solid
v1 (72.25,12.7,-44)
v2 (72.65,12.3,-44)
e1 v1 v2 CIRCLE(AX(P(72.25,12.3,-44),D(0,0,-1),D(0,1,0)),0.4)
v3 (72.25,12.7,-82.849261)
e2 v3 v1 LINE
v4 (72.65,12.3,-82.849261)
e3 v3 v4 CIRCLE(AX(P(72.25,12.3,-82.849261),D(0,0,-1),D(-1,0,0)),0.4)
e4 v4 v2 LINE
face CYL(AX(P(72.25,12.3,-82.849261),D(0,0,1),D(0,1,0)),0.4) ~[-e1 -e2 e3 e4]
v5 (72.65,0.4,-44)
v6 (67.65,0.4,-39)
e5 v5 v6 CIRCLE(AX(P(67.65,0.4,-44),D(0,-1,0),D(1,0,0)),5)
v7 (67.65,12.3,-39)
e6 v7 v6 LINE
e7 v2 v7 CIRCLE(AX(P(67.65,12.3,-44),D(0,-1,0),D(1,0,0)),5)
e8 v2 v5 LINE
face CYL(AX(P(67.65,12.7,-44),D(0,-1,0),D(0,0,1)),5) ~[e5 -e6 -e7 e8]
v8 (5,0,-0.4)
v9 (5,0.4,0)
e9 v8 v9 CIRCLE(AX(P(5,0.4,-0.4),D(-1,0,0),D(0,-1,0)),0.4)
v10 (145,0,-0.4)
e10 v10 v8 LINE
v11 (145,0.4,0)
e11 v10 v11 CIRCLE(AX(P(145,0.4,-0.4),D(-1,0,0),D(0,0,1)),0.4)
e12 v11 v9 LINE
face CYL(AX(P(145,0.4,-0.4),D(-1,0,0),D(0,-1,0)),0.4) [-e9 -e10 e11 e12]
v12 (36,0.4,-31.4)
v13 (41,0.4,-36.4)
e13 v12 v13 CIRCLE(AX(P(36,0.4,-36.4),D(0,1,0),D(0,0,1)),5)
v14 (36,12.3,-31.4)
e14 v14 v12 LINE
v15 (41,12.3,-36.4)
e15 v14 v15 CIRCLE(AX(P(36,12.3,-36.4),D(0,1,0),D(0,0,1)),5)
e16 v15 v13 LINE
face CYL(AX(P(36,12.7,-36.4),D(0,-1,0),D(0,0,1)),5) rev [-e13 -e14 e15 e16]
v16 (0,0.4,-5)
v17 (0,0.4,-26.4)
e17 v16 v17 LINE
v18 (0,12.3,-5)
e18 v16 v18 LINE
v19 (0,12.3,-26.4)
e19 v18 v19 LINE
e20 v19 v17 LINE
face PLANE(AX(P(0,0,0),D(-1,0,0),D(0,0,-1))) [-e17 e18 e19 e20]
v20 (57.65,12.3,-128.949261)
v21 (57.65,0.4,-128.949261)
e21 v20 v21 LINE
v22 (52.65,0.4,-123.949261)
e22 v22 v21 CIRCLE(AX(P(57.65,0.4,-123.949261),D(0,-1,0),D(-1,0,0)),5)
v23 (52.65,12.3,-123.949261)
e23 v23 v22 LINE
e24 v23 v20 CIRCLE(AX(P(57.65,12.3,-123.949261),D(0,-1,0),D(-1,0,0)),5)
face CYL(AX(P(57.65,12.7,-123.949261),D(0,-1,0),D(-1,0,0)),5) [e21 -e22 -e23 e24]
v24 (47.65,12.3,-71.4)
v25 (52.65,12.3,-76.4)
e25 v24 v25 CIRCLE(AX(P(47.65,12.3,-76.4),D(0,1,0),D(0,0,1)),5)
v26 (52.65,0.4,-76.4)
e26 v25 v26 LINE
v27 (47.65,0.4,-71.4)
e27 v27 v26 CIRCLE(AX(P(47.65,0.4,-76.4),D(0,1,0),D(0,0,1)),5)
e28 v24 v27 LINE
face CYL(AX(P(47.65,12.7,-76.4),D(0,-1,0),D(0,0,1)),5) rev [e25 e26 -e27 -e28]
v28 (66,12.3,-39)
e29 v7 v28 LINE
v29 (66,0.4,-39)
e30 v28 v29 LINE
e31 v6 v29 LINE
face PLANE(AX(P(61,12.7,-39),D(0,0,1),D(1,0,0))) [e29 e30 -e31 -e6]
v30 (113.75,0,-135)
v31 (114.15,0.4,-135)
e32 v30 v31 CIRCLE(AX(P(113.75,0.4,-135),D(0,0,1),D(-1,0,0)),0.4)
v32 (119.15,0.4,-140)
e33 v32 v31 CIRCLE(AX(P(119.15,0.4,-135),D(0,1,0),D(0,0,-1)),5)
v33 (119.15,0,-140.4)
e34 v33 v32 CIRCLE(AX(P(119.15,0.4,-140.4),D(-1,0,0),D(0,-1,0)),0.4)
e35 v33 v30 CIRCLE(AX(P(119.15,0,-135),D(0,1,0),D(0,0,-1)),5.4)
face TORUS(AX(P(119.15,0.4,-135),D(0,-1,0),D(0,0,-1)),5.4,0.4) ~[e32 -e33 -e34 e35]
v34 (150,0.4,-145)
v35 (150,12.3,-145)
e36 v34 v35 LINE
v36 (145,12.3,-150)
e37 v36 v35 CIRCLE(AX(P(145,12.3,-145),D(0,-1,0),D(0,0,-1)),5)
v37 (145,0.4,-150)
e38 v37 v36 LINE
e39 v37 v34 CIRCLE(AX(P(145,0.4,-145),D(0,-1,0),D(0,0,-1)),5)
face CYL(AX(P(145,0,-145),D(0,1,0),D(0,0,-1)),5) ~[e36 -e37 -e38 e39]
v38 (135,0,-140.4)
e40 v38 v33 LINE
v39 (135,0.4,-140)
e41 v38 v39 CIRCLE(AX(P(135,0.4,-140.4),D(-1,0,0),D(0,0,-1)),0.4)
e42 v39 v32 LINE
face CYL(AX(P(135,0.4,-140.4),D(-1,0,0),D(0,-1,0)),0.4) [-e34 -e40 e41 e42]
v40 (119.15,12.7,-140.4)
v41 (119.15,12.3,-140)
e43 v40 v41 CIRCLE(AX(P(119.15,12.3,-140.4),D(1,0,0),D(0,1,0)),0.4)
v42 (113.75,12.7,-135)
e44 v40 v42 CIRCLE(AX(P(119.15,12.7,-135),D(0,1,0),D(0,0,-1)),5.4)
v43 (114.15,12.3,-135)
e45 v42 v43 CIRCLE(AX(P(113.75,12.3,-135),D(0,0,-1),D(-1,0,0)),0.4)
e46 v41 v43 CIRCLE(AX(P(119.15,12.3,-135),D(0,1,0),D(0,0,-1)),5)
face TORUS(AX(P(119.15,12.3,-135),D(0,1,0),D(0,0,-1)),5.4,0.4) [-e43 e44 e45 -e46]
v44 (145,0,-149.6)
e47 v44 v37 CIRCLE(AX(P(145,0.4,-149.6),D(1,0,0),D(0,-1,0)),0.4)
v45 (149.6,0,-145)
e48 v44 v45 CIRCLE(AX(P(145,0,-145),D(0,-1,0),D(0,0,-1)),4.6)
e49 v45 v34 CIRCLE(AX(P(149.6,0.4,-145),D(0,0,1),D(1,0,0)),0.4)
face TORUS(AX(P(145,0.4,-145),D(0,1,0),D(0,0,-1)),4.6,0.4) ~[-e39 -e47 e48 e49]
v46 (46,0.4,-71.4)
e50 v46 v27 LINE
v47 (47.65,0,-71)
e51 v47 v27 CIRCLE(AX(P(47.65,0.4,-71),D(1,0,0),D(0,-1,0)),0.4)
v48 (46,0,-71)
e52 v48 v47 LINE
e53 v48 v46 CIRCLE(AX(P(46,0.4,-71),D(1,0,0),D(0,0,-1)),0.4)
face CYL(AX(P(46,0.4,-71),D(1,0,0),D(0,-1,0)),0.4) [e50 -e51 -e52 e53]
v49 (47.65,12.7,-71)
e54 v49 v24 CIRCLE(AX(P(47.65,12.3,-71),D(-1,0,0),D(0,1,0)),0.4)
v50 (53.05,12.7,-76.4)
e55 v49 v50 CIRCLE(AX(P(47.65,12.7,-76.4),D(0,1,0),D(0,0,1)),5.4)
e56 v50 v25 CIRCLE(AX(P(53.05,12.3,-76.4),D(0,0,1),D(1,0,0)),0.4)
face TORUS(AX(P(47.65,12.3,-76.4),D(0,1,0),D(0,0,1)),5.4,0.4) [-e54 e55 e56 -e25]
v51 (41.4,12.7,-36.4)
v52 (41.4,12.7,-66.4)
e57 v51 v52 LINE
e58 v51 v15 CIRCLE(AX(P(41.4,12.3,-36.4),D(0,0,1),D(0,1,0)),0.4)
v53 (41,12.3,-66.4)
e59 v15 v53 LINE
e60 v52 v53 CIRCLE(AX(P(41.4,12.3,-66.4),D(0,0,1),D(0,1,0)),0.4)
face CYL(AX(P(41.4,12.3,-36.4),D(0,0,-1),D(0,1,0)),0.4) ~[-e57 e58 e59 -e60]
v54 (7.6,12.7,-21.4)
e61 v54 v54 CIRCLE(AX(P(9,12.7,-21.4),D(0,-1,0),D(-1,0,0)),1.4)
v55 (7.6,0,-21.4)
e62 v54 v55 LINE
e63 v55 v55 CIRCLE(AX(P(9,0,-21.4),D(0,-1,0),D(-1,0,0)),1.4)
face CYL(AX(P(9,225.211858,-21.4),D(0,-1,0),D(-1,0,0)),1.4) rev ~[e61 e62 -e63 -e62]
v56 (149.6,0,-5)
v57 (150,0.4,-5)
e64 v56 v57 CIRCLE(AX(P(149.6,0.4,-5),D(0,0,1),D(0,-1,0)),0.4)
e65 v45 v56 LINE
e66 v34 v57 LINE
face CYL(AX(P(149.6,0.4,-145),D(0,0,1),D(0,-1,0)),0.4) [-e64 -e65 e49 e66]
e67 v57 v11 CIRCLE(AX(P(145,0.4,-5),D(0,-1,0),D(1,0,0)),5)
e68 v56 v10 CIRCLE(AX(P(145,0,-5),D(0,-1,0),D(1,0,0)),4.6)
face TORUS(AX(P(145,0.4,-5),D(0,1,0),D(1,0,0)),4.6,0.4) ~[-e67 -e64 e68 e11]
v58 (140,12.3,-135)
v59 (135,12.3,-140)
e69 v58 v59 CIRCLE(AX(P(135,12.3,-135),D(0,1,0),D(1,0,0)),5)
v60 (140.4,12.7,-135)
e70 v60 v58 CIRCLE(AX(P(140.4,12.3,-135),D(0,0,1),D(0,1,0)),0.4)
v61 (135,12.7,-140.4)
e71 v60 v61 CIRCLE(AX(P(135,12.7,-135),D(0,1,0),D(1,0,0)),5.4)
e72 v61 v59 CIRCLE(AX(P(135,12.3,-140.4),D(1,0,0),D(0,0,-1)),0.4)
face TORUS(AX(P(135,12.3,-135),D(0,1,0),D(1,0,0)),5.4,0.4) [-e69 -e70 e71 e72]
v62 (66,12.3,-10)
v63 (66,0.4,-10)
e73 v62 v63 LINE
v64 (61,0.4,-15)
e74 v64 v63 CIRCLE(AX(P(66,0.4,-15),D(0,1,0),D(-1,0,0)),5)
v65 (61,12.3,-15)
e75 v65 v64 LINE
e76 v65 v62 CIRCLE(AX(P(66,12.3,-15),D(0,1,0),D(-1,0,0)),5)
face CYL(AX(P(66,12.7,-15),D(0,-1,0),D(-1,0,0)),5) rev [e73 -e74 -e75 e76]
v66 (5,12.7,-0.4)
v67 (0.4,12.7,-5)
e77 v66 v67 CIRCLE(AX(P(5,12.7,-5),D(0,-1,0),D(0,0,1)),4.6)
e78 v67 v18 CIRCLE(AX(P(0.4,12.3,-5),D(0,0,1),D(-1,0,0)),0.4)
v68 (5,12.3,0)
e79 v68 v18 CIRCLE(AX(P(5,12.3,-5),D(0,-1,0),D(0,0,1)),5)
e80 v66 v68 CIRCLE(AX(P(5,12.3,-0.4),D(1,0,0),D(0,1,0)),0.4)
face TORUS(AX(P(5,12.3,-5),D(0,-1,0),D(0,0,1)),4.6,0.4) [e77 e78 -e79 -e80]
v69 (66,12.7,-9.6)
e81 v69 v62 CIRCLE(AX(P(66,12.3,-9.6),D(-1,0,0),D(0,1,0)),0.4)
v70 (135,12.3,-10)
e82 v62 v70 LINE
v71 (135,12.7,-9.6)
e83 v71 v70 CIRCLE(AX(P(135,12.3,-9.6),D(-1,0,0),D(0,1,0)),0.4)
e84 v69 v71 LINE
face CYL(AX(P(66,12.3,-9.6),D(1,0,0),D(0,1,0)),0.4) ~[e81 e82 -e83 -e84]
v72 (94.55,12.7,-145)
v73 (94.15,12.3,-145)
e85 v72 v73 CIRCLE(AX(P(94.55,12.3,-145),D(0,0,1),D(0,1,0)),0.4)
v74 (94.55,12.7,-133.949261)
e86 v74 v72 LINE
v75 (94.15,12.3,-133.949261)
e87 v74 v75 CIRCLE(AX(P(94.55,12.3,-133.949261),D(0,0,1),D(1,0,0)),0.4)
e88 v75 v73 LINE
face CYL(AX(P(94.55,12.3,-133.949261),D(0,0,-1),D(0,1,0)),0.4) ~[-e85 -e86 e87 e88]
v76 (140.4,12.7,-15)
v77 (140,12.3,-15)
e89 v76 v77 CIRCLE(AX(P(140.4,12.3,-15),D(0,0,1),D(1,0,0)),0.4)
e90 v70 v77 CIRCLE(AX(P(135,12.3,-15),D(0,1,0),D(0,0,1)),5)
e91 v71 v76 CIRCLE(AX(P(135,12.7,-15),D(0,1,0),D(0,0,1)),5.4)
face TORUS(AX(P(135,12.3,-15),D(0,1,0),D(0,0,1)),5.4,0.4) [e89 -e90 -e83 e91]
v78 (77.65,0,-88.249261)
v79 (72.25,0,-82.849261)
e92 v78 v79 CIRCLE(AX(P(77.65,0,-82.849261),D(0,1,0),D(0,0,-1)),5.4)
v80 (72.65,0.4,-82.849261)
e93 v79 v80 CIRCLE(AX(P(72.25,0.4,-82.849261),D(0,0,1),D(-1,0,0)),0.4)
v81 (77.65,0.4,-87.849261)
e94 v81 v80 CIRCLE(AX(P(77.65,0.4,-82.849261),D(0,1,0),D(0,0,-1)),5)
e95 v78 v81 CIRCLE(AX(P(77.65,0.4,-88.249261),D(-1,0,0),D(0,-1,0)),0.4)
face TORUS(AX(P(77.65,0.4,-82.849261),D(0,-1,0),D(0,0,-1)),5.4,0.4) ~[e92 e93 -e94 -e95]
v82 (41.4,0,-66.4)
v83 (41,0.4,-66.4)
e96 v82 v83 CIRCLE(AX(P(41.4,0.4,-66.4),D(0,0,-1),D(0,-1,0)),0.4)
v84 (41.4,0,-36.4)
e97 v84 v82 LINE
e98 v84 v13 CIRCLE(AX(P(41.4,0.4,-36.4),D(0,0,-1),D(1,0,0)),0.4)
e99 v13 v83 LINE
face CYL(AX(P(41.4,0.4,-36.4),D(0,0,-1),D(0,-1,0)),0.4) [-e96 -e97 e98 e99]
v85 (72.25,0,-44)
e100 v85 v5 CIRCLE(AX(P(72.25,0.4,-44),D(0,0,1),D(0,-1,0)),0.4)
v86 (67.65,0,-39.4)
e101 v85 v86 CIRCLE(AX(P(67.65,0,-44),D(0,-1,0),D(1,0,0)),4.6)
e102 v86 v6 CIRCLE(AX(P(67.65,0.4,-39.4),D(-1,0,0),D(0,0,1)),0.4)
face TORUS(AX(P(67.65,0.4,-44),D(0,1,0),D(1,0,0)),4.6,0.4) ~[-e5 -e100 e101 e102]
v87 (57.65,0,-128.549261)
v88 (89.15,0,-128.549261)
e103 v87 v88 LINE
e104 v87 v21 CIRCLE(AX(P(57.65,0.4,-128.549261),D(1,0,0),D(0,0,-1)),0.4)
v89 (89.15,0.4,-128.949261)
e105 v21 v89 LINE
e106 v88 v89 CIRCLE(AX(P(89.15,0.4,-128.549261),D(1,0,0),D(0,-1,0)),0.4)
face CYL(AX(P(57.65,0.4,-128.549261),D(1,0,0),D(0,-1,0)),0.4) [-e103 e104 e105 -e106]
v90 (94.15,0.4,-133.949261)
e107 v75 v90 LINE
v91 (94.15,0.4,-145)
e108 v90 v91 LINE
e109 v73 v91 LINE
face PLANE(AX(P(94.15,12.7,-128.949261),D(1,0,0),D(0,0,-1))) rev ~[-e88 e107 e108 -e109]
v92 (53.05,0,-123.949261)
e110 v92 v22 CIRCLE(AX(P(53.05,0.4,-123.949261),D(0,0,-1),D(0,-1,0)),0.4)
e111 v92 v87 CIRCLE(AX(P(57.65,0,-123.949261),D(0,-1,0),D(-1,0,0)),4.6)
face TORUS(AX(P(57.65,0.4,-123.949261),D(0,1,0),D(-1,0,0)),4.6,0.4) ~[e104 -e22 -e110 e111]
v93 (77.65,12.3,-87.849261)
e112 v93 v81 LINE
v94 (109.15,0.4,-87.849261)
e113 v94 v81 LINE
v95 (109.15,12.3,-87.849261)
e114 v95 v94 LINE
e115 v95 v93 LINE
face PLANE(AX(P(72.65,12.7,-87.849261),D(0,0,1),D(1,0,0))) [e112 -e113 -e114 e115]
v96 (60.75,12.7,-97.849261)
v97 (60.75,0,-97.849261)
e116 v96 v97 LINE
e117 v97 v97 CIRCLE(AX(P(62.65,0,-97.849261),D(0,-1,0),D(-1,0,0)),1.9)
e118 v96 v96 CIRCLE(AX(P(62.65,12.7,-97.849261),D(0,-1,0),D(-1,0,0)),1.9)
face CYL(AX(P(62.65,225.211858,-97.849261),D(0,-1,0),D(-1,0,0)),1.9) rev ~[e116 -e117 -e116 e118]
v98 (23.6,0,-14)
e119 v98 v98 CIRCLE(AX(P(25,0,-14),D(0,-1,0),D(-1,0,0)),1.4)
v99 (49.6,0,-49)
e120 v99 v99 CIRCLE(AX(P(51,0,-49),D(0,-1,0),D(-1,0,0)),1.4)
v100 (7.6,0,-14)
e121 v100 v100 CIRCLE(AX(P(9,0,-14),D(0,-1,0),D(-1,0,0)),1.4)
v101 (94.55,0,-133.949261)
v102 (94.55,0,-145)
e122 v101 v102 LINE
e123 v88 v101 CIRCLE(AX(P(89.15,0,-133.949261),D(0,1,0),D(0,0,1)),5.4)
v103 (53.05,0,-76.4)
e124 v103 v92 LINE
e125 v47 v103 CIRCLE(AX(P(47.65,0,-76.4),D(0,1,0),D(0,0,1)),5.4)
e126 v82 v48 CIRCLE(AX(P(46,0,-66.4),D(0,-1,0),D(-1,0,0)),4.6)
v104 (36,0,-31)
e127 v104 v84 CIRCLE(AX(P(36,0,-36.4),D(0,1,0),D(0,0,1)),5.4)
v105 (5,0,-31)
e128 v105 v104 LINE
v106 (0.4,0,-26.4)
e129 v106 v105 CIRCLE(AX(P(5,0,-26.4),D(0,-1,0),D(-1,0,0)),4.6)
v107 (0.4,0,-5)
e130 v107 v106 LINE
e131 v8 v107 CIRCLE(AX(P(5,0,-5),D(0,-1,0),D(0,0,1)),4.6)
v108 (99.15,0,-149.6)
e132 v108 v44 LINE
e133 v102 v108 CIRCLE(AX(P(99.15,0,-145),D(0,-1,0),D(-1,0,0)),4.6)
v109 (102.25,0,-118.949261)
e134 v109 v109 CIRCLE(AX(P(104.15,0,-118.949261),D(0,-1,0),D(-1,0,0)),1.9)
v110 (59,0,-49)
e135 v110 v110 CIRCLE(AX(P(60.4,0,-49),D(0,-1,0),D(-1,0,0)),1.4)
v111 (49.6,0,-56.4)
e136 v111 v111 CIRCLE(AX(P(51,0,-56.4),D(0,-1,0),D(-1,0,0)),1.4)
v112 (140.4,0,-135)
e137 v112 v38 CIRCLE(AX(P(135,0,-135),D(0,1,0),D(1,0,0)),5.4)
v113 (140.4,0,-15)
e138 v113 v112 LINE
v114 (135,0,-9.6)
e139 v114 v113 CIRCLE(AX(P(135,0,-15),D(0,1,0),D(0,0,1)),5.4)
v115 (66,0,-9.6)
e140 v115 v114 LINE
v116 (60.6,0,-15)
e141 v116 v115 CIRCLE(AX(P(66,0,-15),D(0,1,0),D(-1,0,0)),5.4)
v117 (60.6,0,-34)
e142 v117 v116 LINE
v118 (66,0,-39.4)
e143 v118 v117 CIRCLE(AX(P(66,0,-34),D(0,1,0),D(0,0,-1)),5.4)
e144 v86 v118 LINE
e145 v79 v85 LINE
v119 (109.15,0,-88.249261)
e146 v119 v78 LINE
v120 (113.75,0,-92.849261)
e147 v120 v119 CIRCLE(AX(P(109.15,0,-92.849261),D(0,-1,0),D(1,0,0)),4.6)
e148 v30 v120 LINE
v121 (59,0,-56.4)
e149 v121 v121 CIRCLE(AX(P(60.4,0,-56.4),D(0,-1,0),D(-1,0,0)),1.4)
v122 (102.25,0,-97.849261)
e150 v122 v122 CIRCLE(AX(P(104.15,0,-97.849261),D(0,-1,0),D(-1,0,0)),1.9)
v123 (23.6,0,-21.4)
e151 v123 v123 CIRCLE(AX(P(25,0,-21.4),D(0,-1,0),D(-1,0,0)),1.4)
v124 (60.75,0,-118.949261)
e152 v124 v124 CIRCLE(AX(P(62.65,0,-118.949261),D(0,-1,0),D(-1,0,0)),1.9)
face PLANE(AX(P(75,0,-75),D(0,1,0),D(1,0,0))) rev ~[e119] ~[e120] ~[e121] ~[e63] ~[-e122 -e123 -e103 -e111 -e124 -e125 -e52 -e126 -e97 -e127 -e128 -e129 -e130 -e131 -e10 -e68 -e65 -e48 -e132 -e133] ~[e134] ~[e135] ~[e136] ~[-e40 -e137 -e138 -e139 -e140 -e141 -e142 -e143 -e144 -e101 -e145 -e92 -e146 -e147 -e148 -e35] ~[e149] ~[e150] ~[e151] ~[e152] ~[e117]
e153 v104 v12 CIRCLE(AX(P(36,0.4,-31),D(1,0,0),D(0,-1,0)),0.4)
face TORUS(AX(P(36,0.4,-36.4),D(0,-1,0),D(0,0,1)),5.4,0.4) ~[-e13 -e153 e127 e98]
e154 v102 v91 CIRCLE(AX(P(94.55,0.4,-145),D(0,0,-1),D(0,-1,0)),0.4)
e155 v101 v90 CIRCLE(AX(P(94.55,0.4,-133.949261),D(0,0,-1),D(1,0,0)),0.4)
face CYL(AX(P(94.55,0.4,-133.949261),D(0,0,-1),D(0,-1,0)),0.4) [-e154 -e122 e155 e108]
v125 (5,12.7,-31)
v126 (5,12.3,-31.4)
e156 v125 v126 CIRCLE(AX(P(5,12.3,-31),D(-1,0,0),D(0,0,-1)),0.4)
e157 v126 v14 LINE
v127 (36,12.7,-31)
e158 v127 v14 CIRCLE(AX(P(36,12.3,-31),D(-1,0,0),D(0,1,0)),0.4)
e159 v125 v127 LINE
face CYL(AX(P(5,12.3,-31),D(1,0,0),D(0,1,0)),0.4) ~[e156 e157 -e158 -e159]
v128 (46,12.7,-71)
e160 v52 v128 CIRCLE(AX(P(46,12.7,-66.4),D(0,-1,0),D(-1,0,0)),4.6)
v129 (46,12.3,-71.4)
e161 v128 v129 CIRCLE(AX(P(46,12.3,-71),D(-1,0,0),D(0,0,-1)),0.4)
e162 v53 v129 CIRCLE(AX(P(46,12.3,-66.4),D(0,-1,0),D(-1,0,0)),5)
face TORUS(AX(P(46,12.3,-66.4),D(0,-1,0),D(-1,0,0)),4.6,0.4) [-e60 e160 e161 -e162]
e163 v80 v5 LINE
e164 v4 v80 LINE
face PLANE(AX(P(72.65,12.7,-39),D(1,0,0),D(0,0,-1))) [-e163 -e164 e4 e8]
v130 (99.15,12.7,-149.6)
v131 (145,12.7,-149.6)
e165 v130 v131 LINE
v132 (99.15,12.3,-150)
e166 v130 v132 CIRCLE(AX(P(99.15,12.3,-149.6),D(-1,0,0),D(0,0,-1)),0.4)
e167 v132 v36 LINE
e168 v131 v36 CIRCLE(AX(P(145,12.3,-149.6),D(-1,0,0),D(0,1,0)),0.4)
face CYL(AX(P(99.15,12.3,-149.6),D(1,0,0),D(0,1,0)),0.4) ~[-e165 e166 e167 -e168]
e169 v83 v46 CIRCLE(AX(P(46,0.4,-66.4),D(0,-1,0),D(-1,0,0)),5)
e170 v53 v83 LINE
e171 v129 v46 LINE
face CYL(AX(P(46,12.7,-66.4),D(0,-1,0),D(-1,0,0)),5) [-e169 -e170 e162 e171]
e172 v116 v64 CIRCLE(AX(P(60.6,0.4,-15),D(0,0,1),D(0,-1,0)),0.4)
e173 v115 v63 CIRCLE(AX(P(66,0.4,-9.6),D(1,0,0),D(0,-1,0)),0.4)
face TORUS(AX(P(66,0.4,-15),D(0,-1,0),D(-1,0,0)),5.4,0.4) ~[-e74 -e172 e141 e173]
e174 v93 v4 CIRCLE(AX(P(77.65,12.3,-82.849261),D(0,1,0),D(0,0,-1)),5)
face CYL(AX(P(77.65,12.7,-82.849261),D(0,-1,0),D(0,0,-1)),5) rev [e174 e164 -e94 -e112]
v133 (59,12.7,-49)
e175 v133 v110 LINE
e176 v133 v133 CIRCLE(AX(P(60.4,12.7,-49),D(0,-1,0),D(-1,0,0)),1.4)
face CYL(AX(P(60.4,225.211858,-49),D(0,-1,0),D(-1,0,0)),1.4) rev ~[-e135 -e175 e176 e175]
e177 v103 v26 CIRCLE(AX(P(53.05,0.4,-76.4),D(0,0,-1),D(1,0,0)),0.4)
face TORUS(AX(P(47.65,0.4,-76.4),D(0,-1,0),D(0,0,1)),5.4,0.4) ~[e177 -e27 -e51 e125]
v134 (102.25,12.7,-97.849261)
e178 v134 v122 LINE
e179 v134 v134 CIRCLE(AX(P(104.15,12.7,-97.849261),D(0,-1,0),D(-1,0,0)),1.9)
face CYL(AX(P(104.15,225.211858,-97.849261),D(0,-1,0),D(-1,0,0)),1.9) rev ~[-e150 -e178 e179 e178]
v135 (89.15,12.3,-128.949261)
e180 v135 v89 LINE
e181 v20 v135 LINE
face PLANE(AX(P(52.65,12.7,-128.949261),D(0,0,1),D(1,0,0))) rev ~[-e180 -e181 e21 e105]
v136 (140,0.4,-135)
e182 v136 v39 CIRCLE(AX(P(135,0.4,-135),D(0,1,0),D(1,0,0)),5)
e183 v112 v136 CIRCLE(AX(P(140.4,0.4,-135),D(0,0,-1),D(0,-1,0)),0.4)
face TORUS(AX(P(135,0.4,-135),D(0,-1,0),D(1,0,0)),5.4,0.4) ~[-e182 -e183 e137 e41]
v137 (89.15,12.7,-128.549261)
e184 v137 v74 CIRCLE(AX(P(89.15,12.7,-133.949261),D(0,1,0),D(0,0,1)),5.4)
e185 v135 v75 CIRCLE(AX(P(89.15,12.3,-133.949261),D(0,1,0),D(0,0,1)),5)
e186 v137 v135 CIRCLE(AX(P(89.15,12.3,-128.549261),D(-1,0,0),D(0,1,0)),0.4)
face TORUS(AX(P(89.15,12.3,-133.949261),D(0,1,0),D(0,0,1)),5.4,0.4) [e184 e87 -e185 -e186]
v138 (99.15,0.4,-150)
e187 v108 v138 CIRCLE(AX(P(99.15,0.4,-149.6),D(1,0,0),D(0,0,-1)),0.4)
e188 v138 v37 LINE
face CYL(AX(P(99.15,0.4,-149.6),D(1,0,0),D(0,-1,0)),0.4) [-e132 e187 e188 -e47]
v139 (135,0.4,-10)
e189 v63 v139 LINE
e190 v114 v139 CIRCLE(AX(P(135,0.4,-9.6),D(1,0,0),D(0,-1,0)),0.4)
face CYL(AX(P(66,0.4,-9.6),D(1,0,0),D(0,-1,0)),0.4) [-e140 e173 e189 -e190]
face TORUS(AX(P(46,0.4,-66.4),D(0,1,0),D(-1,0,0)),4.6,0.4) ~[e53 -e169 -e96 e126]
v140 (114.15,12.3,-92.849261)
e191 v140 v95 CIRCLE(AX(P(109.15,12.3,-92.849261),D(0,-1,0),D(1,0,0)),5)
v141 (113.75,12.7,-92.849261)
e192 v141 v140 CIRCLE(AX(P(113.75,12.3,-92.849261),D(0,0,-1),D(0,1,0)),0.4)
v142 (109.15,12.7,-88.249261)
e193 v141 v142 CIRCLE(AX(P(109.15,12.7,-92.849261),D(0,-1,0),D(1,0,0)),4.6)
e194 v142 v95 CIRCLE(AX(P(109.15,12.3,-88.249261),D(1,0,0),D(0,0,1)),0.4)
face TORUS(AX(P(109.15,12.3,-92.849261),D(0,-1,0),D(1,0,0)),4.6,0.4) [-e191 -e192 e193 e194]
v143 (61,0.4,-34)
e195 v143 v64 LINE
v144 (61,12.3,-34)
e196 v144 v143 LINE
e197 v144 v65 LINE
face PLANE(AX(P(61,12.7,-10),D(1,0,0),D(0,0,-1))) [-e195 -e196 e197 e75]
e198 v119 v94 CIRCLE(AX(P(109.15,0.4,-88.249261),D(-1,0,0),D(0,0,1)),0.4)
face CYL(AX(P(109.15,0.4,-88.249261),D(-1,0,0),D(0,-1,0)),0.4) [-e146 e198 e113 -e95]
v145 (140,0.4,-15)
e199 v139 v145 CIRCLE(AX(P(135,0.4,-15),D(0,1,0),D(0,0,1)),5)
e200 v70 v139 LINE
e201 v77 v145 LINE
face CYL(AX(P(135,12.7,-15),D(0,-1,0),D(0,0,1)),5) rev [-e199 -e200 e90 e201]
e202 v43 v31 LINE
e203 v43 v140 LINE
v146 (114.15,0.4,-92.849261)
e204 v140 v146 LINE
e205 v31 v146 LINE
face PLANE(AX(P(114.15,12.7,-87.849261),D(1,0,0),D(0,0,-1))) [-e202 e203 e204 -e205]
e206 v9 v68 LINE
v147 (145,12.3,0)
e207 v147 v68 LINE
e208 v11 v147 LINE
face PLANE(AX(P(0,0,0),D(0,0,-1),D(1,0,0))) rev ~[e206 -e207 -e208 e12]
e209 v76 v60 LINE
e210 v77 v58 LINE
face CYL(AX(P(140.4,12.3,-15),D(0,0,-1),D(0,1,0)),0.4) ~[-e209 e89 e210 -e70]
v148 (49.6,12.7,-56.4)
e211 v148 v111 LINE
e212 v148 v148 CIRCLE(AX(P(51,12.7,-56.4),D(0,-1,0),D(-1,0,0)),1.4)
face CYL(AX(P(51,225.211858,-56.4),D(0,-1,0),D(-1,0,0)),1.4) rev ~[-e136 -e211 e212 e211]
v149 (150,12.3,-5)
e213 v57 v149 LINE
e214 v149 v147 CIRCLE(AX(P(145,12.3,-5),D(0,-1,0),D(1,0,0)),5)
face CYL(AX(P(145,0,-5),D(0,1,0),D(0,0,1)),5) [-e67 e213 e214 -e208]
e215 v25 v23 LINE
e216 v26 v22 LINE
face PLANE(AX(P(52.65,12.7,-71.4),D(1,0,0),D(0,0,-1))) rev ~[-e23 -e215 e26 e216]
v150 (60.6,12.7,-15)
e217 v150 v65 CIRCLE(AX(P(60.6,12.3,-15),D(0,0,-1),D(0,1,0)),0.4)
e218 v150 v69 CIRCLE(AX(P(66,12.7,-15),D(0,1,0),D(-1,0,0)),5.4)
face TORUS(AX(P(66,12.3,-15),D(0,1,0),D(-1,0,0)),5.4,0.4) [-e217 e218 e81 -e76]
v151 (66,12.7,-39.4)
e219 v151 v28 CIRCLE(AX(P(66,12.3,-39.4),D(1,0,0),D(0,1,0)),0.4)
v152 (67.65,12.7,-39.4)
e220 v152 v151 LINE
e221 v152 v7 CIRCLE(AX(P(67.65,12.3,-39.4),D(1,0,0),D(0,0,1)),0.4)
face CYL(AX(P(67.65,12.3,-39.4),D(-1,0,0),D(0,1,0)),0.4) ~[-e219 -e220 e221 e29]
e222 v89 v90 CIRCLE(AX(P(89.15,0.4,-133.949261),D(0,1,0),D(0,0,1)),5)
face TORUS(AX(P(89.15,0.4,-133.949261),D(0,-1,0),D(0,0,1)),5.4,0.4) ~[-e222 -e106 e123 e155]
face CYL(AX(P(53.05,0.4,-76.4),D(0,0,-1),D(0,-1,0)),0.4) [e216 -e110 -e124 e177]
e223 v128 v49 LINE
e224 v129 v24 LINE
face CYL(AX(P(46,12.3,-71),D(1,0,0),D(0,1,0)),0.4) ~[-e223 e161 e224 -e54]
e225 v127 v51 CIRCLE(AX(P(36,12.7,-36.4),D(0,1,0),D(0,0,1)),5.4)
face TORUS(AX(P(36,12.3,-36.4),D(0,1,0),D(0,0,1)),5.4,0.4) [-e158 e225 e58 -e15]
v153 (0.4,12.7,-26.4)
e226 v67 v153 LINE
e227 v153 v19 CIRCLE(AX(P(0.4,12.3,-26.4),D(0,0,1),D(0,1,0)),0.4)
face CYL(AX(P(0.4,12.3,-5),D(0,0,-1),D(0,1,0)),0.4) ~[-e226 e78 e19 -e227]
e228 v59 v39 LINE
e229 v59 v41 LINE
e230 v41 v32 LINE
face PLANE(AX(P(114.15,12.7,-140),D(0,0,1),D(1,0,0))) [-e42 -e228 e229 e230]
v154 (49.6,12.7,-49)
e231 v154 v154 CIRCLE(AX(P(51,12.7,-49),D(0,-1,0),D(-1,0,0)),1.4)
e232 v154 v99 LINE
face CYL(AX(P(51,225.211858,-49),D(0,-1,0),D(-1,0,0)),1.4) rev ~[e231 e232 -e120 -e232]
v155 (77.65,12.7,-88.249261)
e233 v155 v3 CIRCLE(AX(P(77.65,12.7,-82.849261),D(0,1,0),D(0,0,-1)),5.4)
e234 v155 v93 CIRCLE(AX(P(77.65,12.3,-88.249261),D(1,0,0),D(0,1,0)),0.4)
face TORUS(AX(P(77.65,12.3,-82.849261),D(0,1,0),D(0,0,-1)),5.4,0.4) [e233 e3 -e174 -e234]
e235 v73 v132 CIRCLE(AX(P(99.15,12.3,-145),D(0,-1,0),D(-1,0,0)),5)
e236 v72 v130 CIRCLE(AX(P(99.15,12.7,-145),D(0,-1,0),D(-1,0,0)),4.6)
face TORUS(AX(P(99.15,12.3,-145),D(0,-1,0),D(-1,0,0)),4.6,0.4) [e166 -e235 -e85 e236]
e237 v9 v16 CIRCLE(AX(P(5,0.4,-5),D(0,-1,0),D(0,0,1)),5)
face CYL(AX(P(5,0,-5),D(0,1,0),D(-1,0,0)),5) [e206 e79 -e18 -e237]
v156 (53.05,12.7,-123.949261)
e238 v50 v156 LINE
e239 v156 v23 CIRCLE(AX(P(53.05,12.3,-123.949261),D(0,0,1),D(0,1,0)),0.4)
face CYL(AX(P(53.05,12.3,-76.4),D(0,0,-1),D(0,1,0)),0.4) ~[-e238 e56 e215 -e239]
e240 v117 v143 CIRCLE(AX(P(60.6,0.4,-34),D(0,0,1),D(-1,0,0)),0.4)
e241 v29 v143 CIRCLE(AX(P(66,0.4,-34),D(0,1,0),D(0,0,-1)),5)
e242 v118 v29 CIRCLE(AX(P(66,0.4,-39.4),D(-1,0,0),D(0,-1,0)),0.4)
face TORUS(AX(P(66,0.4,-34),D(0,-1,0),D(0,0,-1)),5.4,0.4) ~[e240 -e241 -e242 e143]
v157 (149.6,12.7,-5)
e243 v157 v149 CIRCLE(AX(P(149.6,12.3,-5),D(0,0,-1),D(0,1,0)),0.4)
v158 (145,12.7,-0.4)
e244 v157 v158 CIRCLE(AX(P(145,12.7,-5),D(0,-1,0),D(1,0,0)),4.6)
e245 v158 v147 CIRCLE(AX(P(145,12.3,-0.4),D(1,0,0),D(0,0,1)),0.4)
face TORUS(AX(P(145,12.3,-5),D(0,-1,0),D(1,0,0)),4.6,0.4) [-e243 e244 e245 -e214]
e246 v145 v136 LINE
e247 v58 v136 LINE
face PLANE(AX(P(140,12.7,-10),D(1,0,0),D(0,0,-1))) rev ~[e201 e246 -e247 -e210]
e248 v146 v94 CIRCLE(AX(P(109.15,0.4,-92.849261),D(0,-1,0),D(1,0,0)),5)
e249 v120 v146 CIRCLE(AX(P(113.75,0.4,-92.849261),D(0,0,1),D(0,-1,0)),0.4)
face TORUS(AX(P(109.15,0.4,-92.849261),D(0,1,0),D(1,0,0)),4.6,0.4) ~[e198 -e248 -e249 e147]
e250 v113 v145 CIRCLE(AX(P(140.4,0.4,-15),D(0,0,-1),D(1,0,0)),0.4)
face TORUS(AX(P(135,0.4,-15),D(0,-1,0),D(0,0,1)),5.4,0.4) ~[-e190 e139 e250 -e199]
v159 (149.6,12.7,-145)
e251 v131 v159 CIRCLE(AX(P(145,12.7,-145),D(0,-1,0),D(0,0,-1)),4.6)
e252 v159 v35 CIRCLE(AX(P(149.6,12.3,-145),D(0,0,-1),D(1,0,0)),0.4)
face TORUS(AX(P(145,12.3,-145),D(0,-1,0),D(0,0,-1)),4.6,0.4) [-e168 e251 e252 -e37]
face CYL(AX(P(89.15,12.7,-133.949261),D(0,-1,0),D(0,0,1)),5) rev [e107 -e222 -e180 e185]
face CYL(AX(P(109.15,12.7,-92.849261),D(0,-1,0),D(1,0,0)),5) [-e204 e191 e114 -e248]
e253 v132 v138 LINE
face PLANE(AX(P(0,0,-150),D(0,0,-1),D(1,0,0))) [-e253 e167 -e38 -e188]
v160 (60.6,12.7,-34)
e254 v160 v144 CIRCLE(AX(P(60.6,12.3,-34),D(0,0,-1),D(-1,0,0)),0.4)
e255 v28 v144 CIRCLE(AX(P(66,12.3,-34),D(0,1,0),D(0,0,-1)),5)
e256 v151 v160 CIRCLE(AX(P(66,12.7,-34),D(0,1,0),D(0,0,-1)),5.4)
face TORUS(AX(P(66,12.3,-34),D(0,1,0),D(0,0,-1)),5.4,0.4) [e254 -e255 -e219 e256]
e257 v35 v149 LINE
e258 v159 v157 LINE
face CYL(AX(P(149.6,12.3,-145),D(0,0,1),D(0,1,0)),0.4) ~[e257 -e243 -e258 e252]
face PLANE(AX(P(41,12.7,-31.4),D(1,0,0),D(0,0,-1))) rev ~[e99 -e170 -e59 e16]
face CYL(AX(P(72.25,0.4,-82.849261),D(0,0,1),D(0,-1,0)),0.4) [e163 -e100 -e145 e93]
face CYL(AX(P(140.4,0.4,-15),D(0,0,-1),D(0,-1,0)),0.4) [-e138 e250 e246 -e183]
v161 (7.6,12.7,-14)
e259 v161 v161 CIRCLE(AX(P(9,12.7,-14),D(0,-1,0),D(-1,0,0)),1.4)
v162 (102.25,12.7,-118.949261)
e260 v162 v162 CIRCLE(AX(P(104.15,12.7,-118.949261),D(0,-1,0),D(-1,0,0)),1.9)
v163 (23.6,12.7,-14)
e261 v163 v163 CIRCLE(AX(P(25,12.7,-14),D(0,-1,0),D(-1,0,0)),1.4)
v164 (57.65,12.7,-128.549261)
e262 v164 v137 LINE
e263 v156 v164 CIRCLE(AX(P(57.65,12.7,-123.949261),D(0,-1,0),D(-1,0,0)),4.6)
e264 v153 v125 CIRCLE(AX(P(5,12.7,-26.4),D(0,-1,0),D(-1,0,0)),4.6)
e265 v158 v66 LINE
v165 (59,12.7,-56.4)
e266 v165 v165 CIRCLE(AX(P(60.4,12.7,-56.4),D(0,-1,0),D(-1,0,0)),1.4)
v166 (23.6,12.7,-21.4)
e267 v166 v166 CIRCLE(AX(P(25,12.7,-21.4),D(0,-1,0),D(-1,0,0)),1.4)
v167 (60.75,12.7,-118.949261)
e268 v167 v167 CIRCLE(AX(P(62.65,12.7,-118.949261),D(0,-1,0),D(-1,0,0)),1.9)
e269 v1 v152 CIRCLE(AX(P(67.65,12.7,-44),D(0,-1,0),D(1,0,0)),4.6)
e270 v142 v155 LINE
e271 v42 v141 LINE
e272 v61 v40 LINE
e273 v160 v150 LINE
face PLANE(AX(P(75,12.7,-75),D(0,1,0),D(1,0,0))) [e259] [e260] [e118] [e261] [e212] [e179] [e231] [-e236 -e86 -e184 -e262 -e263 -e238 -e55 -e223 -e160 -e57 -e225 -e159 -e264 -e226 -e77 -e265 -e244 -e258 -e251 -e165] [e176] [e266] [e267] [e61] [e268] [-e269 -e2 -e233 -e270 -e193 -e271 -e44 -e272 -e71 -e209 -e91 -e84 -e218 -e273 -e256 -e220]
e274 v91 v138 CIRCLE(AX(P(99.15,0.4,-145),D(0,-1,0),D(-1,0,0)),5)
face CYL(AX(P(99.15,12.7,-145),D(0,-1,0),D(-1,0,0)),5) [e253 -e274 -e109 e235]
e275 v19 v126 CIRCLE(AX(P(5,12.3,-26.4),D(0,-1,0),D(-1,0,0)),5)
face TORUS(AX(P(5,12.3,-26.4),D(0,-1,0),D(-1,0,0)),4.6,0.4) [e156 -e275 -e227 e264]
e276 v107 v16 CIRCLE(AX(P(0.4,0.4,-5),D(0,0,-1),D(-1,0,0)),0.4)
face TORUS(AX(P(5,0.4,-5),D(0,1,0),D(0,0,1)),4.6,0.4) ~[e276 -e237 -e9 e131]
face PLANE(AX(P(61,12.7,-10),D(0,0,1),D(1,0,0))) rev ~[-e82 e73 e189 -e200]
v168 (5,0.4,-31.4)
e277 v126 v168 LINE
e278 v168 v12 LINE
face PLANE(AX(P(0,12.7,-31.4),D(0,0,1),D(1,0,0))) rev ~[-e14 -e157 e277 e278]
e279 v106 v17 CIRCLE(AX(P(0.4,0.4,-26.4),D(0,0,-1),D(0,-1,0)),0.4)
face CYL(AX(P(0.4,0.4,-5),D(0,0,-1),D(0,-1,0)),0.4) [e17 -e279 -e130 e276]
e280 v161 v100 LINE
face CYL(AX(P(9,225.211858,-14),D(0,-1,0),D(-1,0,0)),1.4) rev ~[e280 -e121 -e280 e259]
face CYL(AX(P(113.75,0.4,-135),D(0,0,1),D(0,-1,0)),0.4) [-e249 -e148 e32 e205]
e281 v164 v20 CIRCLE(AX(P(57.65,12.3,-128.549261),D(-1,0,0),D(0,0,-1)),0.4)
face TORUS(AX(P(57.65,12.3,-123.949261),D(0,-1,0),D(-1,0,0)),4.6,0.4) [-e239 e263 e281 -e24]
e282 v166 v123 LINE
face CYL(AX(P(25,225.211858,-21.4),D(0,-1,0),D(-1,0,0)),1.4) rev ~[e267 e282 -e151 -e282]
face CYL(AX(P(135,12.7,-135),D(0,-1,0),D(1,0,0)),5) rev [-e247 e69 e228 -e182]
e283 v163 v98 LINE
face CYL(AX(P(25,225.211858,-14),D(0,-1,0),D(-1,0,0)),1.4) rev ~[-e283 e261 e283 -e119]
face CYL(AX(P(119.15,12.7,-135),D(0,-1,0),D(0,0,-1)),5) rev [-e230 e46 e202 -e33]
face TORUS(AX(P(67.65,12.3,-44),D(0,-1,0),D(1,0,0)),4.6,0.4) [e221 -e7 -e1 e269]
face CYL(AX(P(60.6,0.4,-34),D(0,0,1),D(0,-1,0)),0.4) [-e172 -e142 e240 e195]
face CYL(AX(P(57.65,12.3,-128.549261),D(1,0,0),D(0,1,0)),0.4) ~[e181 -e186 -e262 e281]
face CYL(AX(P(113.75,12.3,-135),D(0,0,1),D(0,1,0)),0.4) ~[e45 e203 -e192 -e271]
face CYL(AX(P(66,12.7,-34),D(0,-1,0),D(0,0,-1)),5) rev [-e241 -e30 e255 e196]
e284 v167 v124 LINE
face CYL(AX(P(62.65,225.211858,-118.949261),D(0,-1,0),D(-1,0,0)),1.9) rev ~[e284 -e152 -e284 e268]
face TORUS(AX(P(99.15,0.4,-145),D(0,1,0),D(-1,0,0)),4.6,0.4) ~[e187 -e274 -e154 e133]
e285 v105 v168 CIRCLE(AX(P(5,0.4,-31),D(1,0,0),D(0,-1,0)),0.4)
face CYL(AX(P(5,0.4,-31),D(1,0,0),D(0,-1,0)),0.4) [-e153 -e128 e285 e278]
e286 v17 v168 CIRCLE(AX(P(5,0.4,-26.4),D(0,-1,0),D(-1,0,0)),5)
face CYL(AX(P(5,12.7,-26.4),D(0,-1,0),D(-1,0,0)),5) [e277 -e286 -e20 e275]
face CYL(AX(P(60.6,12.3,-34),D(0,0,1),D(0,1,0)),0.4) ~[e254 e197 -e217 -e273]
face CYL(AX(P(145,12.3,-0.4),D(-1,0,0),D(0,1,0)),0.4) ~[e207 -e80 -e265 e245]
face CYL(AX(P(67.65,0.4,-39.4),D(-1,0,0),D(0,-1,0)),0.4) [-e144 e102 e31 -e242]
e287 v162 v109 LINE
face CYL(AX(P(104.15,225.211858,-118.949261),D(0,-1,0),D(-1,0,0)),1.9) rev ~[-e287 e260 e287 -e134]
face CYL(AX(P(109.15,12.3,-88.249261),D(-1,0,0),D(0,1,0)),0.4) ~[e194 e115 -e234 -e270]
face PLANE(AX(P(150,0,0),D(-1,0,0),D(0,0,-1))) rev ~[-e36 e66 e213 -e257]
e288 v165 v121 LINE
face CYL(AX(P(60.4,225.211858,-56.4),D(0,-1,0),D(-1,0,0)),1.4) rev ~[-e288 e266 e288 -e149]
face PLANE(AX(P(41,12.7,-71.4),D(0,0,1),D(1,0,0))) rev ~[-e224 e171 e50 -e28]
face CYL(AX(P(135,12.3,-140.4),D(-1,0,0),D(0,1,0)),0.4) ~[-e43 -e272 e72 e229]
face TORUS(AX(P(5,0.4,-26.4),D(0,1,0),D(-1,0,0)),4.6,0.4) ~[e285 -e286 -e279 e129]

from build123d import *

# Parameters (mm, degrees)
SKETCH1_W               = 150
SKETCH1_H               = 150
BOSS_EXTRUDE1_DEPTH     = 12.7
M3_CLEARANCE_HOLE1_D    = 2.8
M4_CLEARANCE_HOLE1_D    = 3.8
SKETCH14_W              = 52.65
SKETCH14_H              = 78.6
SKETCH14_W_2            = 41
SKETCH14_H_2            = 40
SKETCH14_W_3            = 67.35
SKETCH14_H_3            = 77.849261314
SKETCH14_W_4            = 25.85
SKETCH14_H_4            = 52.150738686
SKETCH14_W_5            = 41.5
SKETCH14_H_5            = 21.050738686
SKETCH14_W_6            = 11.65
SKETCH14_H_6            = 29
CUT_EXTRUDE1_DEPTH      = 1
CUT_EXTRUDE1_DEPTH_BACK = 13.7
FILLET1_R               = 5
FILLET2_R               = 0.4


with BuildPart() as part:
    # Sketch1 → Boss-Extrude1 (new body)
    with BuildSketch(Plane(origin=(0, 0, 0), x_dir=(1, 0, 0), z_dir=(0, 1, 0))):
        with Locations((75, 75)):
            Rectangle(SKETCH1_W, SKETCH1_H)
    extrude(amount=BOSS_EXTRUDE1_DEPTH)

    # M3 Clearance Hole1 (through all)
    with Locations(Plane(origin=(0, 12.7, 0), x_dir=(1, 0, 0), z_dir=(0, 1, 0))):
        with Locations((9, 21.4), (25, 21.4), (25, 14), (9, 14), (51, 56.4), (60.4, 56.4), (60.4, 49), (51, 49)):
            Hole(M3_CLEARANCE_HOLE1_D / 2)

    # M4 Clearance Hole1 (through all)
    with Locations(Plane(origin=(0, 12.7, 0), x_dir=(1, 0, 0), z_dir=(0, 1, 0))):
        with Locations((62.65, 97.849261314), (62.65, 118.949261314), (104.15, 118.949261314), (104.15, 97.849261314)):
            Hole(M4_CLEARANCE_HOLE1_D / 2)

    # Sketch14 → Cut-Extrude1 (cut, two sides)
    with BuildSketch(Plane(origin=(0, 12.7, 0), x_dir=(1, 0, 0), z_dir=(0, 1, 0))) as cut_extrude1_sk:
        with Locations((26.325, 110.7)):
            Rectangle(SKETCH14_W, SKETCH14_H)
        with Locations((20.5, 51.4)):
            Rectangle(SKETCH14_W_2, SKETCH14_H_2)
        with Locations((106.325, 48.924630657)):
            Rectangle(SKETCH14_W_3, SKETCH14_H_3)
        with Locations((127.075, 113.924630657)):
            Rectangle(SKETCH14_W_4, SKETCH14_H_4)
        with Locations((73.4, 139.474630657)):
            Rectangle(SKETCH14_W_5, SKETCH14_H_5)
        with Locations((66.825, 24.5)):
            Rectangle(SKETCH14_W_6, SKETCH14_H_6)
    extrude(amount=CUT_EXTRUDE1_DEPTH, mode=Mode.SUBTRACT)
    extrude(cut_extrude1_sk.sketch, amount=-CUT_EXTRUDE1_DEPTH_BACK, mode=Mode.SUBTRACT)

    # Fillet1
    fillet1_edges = [part.edges().sort_by_distance(p)[0] for p in [
        (140, 6.35, -140),
        (140, 6.35, -10),
        (61, 6.35, -10),
        (61, 6.35, -39),
        (72.65, 6.35, -39),
        (72.65, 6.35, -87.849261314),
        (114.15, 6.35, -87.849261314),
        (114.15, 6.35, -140),
        (52.65, 6.35, -128.949261314),
        (52.65, 6.35, -71.4),
        (41, 6.35, -71.4),
        (41, 6.35, -31.4),
        (0, 6.35, -31.4),
        (94.15, 6.35, -150),
        (94.15, 6.35, -128.949261314),
        (150, 6.35, -150),
        (150, 6.35, 0),
        (0, 6.35, 0),
    ]]
    fillet(fillet1_edges, radius=FILLET1_R)

    # Fillet2
    fillet2_edges = [part.edges().sort_by_distance(p)[0] for p in [
        (100.5, 0, -10),
        (100.5, 12.7, -10),
        (61, 12.7, -24.5),
        (61, 0, -24.5),
        (66.825, 0, -39),
        (66.825, 12.7, -39),
        (41, 12.7, -51.4),
        (20.5, 12.7, -31.4),
        (0, 12.7, -15.7),
        (75, 12.7, 0),
        (150, 12.7, -75),
        (122.075, 12.7, -150),
        (94.15, 12.7, -139.474630657),
        (73.4, 12.7, -128.949261314),
        (52.65, 12.7, -100.174630657),
        (46.825, 12.7, -71.4),
        (140, 12.7, -75),
        (72.65, 12.7, -63.424630657),
        (93.4, 12.7, -87.849261314),
        (114.15, 12.7, -113.924630657),
        (127.075, 12.7, -140),
        (1.464466094, 12.7, -29.935533906),
        (54.114466094, 12.7, -127.48479522),
        (95.614466094, 12.7, -148.535533906),
        (42.464466094, 12.7, -69.935533906),
        (1.464466094, 12.7, -1.464466094),
        (148.535533906, 12.7, -1.464466094),
        (148.535533906, 12.7, -148.535533906),
        (112.685533906, 12.7, -89.313727408),
        (71.185533906, 12.7, -40.464466094),
        (72.65, 0, -63.424630657),
        (20.5, 0, -31.4),
        (41, 0, -51.4),
        (46.825, 0, -71.4),
        (52.65, 0, -100.174630657),
        (73.4, 0, -128.949261314),
        (94.15, 0, -139.474630657),
        (122.075, 0, -150),
        (150, 0, -75),
        (75, 0, 0),
        (0, 0, -15.7),
        (140, 0, -75),
        (127.075, 0, -140),
        (114.15, 0, -113.924630657),
        (93.4, 0, -87.849261314),
        (1.464466094, 0, -29.935533906),
        (54.114466094, 0, -127.48479522),
        (95.614466094, 0, -148.535533906),
        (42.464466094, 0, -69.935533906),
        (1.464466094, 0, -1.464466094),
        (148.535533906, 0, -1.464466094),
        (148.535533906, 0, -148.535533906),
        (112.685533906, 0, -89.313727408),
        (71.185533906, 0, -40.464466094),
        (62.464466094, 12.7, -11.464466094),
        (62.464466094, 0, -11.464466094),
        (62.464466094, 12.7, -37.535533906),
        (62.464466094, 0, -37.535533906),
        (138.535533906, 12.7, -138.535533906),
        (138.535533906, 0, -138.535533906),
        (115.614466094, 12.7, -138.535533906),
        (115.614466094, 0, -138.535533906),
        (39.535533906, 12.7, -32.864466094),
        (39.535533906, 0, -32.864466094),
        (51.185533906, 12.7, -72.864466094),
        (51.185533906, 0, -72.864466094),
        (138.535533906, 12.7, -11.464466094),
        (138.535533906, 0, -11.464466094),
        (74.114466094, 12.7, -86.38479522),
        (74.114466094, 0, -86.38479522),
        (92.685533906, 12.7, -130.413727408),
        (92.685533906, 0, -130.413727408),
    ]]
    fillet(fillet2_edges, radius=FILLET2_R)


solid = part.part
